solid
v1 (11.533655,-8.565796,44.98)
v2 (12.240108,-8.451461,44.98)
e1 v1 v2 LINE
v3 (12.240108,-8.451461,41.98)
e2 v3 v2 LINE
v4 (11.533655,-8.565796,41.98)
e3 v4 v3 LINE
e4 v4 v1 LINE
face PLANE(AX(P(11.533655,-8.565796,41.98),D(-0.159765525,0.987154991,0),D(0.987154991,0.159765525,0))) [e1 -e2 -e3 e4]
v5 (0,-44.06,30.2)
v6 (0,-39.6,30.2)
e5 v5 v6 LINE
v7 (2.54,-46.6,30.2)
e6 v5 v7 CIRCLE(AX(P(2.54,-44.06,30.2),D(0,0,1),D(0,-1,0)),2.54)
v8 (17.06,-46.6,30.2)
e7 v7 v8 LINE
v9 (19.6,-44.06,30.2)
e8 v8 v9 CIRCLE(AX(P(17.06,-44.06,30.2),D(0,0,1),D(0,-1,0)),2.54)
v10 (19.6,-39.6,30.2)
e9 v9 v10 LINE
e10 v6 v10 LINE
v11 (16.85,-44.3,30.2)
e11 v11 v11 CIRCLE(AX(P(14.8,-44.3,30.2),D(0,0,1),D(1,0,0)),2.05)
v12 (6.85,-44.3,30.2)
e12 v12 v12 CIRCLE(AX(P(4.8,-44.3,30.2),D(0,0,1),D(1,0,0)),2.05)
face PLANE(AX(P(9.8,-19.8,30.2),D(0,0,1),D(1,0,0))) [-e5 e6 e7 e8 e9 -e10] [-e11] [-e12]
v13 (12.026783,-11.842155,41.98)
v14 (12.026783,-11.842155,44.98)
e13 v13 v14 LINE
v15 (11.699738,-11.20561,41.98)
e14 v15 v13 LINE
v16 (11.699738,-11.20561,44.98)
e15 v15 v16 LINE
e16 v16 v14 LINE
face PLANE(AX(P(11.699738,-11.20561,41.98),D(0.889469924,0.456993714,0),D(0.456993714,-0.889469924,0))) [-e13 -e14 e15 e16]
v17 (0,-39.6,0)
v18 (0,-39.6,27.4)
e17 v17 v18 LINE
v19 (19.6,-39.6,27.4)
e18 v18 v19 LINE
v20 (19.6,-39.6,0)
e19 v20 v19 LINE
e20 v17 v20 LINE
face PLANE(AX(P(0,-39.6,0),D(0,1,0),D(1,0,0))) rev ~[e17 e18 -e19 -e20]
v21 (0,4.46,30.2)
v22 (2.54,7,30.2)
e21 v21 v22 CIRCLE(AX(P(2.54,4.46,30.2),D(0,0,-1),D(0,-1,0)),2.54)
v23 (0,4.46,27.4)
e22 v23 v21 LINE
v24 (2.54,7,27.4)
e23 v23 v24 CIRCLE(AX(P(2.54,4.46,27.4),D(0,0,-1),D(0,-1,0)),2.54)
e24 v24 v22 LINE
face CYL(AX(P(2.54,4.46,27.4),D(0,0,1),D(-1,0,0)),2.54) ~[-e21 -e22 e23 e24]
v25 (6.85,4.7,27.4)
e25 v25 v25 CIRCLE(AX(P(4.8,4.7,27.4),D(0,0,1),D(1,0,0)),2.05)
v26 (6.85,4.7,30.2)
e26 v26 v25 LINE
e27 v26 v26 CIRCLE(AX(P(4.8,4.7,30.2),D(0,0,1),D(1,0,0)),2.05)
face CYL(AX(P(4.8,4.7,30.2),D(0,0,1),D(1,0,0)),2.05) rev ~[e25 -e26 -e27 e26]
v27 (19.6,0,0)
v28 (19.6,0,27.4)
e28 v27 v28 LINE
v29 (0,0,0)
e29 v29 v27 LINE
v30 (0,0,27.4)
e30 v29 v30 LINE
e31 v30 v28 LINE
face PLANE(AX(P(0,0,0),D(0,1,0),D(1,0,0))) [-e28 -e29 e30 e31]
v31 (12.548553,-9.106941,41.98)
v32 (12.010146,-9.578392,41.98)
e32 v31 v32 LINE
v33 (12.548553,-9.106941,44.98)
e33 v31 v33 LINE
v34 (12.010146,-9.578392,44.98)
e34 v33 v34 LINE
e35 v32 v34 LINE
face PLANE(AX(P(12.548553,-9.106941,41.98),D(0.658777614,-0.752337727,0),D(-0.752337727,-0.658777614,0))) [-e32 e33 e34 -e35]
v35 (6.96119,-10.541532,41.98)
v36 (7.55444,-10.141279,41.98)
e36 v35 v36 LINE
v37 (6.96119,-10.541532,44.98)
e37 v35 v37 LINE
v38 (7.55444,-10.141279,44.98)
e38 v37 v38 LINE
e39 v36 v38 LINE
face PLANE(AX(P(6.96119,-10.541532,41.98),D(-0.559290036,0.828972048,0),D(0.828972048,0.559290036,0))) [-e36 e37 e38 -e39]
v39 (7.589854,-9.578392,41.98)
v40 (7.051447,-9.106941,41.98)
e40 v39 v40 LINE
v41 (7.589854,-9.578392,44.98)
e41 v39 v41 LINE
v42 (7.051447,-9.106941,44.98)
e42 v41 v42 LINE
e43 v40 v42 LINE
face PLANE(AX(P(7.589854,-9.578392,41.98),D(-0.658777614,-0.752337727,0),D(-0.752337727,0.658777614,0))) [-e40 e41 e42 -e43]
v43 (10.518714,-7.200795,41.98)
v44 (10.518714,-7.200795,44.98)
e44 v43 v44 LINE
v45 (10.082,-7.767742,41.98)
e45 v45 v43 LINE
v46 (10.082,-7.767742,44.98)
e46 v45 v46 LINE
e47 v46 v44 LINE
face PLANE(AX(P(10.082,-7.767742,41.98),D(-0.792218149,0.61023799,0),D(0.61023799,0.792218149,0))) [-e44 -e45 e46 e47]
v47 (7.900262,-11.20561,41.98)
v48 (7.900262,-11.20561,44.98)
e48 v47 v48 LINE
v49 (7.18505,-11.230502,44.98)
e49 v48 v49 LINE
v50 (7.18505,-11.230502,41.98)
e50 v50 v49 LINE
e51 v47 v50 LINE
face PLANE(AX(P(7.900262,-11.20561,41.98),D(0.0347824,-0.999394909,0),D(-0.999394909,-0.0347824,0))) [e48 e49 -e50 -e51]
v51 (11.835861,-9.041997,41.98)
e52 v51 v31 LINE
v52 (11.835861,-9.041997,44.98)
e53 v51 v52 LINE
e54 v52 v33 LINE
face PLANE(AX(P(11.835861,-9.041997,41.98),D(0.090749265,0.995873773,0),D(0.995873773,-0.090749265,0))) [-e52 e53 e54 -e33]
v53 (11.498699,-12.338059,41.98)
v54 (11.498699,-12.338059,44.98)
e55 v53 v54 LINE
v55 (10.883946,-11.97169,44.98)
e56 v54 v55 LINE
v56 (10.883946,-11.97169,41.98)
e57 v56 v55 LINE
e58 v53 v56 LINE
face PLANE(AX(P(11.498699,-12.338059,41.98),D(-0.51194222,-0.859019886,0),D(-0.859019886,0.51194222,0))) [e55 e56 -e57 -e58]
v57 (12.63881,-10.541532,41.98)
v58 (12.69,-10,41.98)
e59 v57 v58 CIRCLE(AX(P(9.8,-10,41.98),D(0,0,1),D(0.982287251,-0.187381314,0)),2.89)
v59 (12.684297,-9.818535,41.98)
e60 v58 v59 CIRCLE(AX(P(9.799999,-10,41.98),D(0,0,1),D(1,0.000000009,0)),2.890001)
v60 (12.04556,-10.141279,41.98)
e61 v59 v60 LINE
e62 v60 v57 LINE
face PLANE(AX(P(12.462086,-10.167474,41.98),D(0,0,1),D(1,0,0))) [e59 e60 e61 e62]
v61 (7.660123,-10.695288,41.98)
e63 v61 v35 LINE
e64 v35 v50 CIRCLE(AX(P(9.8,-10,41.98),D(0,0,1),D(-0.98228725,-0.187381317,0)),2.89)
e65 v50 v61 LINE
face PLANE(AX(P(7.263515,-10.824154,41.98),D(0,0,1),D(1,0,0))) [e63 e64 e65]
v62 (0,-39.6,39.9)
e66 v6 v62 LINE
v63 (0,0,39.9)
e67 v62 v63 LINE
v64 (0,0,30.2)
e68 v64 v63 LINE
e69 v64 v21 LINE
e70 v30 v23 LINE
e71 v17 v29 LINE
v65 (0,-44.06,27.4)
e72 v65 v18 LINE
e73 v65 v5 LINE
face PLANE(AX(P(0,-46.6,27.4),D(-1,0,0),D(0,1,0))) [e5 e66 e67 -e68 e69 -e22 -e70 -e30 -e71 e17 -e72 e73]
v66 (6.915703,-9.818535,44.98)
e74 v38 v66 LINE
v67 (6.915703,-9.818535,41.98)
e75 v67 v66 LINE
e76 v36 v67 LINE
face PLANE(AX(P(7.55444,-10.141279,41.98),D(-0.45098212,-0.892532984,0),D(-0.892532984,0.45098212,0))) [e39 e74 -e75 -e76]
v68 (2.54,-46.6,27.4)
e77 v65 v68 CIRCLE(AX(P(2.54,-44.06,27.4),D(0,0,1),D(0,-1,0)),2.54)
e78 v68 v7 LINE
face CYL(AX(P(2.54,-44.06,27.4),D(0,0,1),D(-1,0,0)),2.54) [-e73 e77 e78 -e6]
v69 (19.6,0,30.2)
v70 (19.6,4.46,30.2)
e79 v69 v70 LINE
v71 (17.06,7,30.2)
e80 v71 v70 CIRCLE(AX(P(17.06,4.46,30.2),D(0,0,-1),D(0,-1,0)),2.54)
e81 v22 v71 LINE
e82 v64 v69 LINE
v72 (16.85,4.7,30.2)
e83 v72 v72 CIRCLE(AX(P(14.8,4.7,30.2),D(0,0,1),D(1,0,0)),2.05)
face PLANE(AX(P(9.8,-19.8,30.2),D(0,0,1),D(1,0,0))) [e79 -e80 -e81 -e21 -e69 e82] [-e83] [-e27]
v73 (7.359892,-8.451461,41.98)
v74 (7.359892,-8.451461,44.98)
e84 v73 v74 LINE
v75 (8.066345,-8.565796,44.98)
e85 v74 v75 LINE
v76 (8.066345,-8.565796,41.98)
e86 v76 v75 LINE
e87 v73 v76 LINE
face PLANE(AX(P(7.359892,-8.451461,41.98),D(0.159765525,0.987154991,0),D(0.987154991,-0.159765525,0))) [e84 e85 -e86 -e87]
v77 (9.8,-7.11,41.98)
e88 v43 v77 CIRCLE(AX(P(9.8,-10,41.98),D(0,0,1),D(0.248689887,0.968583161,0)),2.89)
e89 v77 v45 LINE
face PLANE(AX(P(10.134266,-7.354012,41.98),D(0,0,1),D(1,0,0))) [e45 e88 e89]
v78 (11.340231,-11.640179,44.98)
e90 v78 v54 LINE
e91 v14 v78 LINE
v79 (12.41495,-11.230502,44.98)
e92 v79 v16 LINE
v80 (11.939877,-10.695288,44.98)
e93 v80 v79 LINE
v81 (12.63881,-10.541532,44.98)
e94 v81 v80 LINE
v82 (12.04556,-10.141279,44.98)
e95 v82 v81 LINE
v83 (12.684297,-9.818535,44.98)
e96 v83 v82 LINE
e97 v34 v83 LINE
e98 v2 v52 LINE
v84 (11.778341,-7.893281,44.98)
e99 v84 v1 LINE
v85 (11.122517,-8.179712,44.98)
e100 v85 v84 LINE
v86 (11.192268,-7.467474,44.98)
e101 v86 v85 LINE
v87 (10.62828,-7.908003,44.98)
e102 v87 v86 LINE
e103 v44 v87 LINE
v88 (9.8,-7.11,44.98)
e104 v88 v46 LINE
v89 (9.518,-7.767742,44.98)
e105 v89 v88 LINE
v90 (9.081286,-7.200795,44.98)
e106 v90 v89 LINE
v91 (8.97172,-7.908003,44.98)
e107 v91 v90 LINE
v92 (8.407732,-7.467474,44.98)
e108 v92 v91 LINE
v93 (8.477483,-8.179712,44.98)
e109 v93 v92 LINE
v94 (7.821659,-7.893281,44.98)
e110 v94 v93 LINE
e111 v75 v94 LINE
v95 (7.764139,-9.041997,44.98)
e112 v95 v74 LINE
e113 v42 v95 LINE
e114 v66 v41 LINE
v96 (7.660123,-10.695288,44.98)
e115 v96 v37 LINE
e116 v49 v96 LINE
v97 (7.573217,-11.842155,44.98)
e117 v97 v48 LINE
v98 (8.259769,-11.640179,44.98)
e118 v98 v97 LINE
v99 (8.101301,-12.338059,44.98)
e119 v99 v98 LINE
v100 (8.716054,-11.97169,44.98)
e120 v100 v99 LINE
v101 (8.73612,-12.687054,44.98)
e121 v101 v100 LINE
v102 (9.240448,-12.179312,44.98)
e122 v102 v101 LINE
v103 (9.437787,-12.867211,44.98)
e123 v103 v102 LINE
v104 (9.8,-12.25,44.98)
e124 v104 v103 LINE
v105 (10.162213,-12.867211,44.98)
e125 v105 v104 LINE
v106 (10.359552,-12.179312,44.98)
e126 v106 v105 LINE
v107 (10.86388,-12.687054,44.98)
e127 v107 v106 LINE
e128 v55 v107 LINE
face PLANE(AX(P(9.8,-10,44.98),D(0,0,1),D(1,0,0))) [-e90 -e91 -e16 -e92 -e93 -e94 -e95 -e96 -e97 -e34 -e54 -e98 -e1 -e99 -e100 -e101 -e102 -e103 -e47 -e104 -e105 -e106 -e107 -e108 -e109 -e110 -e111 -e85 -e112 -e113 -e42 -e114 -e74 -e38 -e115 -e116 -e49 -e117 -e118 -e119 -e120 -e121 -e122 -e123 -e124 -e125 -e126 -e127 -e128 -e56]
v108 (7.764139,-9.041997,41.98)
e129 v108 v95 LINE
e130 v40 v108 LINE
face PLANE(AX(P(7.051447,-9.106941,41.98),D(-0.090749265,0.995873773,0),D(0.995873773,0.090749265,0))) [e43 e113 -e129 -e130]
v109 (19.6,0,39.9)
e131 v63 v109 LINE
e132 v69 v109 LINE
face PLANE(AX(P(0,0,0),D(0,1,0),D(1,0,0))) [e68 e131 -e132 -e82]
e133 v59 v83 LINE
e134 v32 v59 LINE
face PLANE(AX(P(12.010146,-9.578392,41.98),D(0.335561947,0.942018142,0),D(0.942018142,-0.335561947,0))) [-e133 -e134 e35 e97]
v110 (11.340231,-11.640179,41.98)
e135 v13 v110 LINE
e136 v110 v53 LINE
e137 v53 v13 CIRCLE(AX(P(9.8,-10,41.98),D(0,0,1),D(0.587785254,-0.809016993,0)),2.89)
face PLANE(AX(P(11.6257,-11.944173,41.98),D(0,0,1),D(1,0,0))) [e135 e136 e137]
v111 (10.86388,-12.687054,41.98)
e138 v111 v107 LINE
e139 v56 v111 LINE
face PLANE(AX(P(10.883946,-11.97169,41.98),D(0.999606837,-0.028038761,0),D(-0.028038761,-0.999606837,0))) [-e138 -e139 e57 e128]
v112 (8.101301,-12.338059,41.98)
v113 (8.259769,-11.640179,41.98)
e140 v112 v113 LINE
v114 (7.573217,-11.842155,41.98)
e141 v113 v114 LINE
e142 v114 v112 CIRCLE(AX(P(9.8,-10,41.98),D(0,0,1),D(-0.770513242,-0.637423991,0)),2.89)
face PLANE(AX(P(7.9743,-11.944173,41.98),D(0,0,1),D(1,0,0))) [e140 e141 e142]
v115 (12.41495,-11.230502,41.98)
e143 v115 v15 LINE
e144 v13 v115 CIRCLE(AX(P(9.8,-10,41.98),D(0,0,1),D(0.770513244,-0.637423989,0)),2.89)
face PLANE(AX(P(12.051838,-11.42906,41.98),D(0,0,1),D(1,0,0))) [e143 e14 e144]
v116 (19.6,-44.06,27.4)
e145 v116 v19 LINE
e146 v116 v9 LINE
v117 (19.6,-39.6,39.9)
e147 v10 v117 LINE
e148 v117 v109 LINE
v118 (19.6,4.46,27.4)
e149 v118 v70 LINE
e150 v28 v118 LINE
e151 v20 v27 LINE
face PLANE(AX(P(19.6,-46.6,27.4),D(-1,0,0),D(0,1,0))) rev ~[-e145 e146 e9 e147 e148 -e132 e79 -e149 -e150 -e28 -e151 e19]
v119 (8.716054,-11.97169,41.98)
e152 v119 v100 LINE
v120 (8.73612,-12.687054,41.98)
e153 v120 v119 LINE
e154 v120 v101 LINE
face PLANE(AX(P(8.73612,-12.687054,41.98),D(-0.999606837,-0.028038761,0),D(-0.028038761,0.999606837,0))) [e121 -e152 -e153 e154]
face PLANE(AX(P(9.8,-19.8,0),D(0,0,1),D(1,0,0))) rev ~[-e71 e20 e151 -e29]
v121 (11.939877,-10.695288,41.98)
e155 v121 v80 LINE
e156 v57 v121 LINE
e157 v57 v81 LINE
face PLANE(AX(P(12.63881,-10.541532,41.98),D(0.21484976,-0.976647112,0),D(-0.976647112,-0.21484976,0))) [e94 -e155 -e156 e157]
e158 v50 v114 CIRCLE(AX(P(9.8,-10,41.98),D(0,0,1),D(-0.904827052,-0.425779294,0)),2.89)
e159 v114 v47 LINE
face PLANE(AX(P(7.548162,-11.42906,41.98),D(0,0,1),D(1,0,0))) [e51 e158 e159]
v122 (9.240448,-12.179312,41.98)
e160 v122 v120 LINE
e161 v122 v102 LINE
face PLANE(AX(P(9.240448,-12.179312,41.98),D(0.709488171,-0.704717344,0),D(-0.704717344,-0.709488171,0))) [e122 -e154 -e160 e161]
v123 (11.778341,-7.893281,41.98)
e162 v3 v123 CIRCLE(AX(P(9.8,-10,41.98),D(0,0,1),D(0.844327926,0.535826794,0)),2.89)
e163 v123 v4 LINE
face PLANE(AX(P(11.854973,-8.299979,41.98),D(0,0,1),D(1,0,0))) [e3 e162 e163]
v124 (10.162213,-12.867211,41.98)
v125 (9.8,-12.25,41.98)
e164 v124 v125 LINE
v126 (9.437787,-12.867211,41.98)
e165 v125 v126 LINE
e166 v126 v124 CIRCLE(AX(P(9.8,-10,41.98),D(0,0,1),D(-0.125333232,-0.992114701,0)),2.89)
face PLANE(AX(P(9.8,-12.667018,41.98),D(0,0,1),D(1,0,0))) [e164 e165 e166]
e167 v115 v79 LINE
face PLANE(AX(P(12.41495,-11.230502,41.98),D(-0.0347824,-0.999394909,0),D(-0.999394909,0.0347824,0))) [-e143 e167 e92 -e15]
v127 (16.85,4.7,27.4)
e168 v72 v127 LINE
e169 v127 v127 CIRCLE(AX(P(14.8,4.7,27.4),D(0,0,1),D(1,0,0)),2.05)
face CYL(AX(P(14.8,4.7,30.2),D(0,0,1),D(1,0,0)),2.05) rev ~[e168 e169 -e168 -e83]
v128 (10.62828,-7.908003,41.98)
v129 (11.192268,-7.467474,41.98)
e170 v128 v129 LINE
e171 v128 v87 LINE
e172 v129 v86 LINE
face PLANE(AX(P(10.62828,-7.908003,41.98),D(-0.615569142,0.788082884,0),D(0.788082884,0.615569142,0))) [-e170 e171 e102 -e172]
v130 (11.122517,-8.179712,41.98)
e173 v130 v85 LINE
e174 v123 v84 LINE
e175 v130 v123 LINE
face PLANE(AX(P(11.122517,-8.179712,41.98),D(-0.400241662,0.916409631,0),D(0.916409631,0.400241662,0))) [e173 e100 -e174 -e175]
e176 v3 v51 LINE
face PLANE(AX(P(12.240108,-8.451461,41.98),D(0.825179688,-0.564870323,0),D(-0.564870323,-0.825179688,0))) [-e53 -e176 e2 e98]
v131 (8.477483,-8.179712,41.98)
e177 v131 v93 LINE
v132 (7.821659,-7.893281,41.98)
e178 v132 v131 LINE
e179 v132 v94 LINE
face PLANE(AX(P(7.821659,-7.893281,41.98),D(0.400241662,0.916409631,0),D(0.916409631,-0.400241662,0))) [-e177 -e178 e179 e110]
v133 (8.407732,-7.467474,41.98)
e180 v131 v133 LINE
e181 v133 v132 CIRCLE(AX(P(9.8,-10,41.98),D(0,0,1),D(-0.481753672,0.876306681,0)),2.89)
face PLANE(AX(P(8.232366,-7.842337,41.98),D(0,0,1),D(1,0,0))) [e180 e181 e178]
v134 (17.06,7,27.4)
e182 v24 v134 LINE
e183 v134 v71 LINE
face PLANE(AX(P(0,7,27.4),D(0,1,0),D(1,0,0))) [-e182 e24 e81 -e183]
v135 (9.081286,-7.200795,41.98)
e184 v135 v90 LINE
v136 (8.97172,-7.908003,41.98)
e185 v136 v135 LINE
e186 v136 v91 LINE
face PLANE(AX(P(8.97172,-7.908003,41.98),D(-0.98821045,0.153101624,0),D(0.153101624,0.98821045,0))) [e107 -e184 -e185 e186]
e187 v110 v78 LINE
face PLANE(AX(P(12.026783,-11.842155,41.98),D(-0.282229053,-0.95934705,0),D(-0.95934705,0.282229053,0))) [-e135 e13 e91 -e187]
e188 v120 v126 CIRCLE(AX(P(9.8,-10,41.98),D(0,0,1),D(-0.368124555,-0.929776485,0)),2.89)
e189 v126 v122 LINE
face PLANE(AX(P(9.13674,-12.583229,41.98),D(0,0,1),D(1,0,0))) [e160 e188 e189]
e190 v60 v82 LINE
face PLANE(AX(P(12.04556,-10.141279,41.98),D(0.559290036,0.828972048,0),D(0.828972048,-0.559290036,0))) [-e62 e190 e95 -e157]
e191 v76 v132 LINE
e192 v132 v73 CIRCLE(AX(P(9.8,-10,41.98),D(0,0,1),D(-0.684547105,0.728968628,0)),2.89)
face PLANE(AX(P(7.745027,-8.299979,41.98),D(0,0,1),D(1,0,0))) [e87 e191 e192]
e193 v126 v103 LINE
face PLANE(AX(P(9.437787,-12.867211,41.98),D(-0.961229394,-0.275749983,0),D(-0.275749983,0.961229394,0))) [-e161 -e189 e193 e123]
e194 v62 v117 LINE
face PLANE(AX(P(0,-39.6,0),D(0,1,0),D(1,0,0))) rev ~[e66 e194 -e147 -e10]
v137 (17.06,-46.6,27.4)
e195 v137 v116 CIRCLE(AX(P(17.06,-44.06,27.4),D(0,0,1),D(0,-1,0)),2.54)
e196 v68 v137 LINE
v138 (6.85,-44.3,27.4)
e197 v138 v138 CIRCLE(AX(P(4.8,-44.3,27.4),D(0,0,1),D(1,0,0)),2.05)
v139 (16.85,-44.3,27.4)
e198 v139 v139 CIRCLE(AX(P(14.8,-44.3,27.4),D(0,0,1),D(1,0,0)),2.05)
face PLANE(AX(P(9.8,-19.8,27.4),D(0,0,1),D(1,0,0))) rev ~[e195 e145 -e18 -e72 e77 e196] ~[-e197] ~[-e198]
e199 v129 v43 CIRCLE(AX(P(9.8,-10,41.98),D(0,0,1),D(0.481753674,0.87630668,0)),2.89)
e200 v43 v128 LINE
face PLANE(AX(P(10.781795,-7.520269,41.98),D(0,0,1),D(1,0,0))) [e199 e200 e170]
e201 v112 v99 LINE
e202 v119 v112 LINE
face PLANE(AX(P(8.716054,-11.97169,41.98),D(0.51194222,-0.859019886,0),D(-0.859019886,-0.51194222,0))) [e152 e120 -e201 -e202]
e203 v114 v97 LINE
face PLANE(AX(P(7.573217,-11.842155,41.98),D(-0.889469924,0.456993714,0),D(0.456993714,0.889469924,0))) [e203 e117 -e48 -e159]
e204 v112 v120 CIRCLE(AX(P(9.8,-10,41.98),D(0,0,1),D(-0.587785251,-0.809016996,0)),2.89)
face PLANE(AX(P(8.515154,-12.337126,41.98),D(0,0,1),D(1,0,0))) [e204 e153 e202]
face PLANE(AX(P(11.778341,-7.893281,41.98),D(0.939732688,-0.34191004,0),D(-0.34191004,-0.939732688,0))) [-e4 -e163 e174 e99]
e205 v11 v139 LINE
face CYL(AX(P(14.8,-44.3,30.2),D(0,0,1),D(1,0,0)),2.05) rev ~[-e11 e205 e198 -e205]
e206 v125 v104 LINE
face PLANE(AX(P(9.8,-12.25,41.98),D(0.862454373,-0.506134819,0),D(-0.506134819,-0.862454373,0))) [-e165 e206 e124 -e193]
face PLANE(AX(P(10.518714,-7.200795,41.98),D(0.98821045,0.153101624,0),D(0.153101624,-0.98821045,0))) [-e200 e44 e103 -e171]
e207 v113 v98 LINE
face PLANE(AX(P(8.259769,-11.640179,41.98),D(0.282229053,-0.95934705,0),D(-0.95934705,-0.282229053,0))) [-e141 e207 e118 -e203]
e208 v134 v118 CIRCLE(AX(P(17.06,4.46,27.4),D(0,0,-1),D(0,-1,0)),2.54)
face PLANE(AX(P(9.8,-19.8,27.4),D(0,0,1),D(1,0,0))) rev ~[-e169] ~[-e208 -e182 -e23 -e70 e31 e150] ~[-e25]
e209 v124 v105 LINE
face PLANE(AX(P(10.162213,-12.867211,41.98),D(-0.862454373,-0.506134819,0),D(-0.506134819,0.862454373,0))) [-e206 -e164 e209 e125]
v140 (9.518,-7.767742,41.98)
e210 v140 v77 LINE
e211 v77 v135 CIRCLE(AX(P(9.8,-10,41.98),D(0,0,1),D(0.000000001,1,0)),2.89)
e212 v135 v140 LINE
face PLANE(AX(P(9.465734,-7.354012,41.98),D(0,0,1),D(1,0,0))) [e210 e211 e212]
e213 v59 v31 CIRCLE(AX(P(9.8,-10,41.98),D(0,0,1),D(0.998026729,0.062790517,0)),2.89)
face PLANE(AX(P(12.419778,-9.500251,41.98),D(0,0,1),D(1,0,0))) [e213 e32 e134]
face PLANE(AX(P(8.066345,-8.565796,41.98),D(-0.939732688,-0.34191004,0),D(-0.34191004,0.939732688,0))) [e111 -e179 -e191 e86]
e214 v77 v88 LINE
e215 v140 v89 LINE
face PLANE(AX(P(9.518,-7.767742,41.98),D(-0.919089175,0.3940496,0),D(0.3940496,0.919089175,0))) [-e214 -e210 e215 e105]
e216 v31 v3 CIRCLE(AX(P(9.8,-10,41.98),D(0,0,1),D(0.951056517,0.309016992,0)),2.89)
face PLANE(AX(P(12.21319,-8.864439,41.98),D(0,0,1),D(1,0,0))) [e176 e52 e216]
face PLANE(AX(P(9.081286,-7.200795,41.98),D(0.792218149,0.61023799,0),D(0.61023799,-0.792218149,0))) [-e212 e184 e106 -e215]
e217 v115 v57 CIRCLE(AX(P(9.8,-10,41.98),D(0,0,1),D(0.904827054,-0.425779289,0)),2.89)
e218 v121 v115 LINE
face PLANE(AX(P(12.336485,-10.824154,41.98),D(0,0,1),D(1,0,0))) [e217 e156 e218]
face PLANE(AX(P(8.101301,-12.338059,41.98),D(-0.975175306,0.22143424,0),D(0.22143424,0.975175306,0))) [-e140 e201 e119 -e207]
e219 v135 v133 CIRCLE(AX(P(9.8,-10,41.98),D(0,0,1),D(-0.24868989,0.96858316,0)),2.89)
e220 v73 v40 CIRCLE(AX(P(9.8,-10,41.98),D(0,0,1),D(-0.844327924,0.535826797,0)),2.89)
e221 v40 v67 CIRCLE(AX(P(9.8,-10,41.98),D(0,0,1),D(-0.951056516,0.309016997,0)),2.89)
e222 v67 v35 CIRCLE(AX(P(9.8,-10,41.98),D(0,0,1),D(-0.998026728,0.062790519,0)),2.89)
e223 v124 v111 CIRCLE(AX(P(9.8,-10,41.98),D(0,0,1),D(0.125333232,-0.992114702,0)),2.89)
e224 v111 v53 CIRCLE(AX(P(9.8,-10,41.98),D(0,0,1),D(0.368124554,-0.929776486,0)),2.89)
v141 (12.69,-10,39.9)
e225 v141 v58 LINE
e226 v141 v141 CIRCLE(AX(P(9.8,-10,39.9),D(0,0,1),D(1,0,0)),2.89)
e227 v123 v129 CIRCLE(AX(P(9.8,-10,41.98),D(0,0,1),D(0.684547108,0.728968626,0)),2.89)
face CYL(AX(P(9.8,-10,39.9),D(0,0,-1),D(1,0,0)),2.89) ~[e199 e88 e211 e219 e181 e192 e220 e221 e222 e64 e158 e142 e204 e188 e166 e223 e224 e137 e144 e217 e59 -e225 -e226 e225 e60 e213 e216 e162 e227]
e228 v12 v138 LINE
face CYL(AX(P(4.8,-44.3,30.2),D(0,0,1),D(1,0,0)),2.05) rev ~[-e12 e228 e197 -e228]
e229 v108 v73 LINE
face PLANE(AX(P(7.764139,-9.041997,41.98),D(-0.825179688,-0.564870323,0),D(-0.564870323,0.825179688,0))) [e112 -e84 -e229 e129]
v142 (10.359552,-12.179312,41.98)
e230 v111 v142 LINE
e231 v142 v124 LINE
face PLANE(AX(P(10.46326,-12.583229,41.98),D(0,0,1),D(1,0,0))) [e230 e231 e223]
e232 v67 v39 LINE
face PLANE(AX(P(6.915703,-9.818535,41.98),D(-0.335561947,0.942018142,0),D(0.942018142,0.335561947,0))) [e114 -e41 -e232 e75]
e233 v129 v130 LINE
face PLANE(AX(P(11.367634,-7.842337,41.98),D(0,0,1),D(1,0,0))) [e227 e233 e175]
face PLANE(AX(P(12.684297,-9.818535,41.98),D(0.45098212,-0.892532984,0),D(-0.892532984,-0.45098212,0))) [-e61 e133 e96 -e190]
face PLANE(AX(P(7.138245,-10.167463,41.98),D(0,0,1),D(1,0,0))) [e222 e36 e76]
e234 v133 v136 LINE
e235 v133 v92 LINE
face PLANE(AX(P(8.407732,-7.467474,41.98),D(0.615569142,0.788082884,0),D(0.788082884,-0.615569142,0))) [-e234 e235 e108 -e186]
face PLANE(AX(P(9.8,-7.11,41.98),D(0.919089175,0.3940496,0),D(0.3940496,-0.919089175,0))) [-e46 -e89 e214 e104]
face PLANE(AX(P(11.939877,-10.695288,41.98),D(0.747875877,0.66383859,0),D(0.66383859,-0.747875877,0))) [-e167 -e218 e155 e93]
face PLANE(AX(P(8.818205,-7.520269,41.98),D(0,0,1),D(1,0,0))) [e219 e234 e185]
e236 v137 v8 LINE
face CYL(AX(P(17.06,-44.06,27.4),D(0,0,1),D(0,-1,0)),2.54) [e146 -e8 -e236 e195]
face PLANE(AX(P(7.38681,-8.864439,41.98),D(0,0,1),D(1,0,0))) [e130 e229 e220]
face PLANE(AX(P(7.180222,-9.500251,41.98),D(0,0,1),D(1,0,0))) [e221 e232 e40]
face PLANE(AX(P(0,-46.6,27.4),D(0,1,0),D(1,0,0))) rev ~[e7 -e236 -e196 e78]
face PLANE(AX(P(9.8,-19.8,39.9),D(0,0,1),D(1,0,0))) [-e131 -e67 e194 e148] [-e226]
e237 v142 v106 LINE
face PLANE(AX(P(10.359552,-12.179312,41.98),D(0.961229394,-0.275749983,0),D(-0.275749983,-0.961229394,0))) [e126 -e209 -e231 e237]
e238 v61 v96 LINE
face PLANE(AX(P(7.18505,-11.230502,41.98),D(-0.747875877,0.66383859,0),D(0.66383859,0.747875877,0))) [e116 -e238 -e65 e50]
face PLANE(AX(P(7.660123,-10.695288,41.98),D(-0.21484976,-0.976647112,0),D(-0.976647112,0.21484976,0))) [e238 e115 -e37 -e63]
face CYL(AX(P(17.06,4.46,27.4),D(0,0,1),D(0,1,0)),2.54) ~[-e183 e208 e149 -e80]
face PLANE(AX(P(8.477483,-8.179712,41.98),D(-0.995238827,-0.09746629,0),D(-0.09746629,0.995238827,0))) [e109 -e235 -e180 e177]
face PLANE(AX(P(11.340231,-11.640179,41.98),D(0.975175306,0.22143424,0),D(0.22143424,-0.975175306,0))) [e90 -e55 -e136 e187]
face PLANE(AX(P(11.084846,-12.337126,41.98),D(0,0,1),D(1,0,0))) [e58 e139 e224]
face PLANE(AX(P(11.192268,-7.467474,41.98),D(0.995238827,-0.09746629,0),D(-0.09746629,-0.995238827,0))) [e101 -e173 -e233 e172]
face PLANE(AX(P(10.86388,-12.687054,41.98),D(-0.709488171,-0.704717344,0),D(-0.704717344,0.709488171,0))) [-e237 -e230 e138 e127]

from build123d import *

# Parameters (mm, degrees)
SKETCH1_W           = 19.6
SKETCH1_H           = 39.6
BOSS_EXTRUDE1_DEPTH = 39.9
SKETCH2_R           = 2.89
BOSS_EXTRUDE2_DEPTH = 5.08
SKETCH3_W           = 19.6
SKETCH3_H           = 53.6
BOSS_EXTRUDE3_DEPTH = 2.8
SKETCH4_R           = 2.05
CUT_EXTRUDE1_DEPTH  = 59.887689748
FILLET1_R           = 2.54
CUT_EXTRUDE3_START  = -3
CUT_EXTRUDE3_DEPTH  = 3


with BuildPart() as part:
    # Sketch1 → Boss-Extrude1 (new body)
    with BuildSketch(Plane.XY):
        with Locations((9.8, -19.8)):
            Rectangle(SKETCH1_W, SKETCH1_H)
    extrude(amount=BOSS_EXTRUDE1_DEPTH)

    # Sketch2 → Boss-Extrude2 (add)
    with BuildSketch(Plane.XY.offset(39.9)):
        with Locations((9.8, -10)):
            Circle(SKETCH2_R)
    extrude(amount=BOSS_EXTRUDE2_DEPTH)

    # Sketch3 → Boss-Extrude3 (add)
    with BuildSketch(Plane.XY.offset(27.400000064)):
        with Locations((9.8, -19.8)):
            Rectangle(SKETCH3_W, SKETCH3_H)
    extrude(amount=BOSS_EXTRUDE3_DEPTH)

    # Sketch4 → Cut-Extrude1 (cut, through all)
    with BuildSketch(Plane.XY.offset(30.200000064)):
        with Locations((4.8, 4.7)):
            Circle(SKETCH4_R)
        with Locations((14.8, 4.7)):
            Circle(SKETCH4_R)
        with Locations((4.8, -44.3)):
            Circle(SKETCH4_R)
        with Locations((14.8, -44.3)):
            Circle(SKETCH4_R)
    extrude(amount=-CUT_EXTRUDE1_DEPTH, mode=Mode.SUBTRACT)

    # Fillet1
    fillet1_edges = [part.edges().sort_by_distance(p)[0] for p in [
        (19.6, -46.6, 28.800000064),
        (0, 7, 28.800000064),
        (0, -46.6, 28.800000064),
        (19.6, 7, 28.800000064),
    ]]
    fillet(fillet1_edges, radius=FILLET1_R)

    # Sketch5 → Cut-Extrude3 (cut)
    with BuildSketch(Plane.XY.offset(44.98).offset(CUT_EXTRUDE3_START)):
        with BuildLine():
            ThreePointArc((10.518713774, -7.200794664), (10.162213045, -7.132788513), (9.8, -7.11))
            Line((9.8, -7.11), (10.081999776, -7.767741922))
            Line((10.081999776, -7.767741922), (10.518713774, -7.200794664))
        make_face()
        with BuildLine():
            Line((9.518000224, -7.767741922), (9.8, -7.11))
            ThreePointArc((9.8, -7.11), (9.437786955, -7.132788513), (9.081286226, -7.200794664))
            Line((9.081286226, -7.200794664), (9.518000224, -7.767741922))
        make_face()
        with BuildLine():
            Line((8.971719756, -7.908002907), (9.081286226, -7.200794664))
            ThreePointArc((9.081286226, -7.200794664), (8.736120043, -7.312945956), (8.407731882, -7.467473695))
            Line((8.407731882, -7.467473695), (8.971719756, -7.908002907))
        make_face()
        with BuildLine():
            Line((8.477483182, -8.179711763), (8.407731882, -7.467473695))
            ThreePointArc((8.407731882, -7.467473695), (8.101300621, -7.661940886), (7.821658864, -7.893280667))
            Line((7.821658864, -7.893280667), (8.477483182, -8.179711763))
        make_face()
        with BuildLine():
            Line((8.066345204, -8.565796023), (7.821658864, -7.893280667))
            ThreePointArc((7.821658864, -7.893280667), (7.573216728, -8.15784467), (7.359892295, -8.451460563))
            Line((7.359892295, -8.451460563), (8.066345204, -8.565796023))
        make_face()
        with BuildLine():
            Line((7.764139132, -9.041996594), (7.359892295, -8.451460563))
            ThreePointArc((7.359892295, -8.451460563), (7.185049818, -8.769497847), (7.051446668, -9.106940886))
            Line((7.051446668, -9.106940886), (7.764139132, -9.041996594))
        make_face()
        with BuildLine():
            Line((7.589853686, -9.578392042), (7.051446668, -9.106940886))
            ThreePointArc((7.051446668, -9.106940886), (6.961189845, -9.458468001), (6.915702755, -9.818535399))
            Line((6.915702755, -9.818535399), (7.589853686, -9.578392042))
        make_face()
        with BuildLine():
            Line((7.554439861, -10.141278669), (6.915702755, -9.818535399))
            ThreePointArc((6.915702755, -9.818535399), (6.915702755, -10.181464601), (6.961189845, -10.541531999))
            Line((6.961189845, -10.541531999), (7.554439861, -10.141278669))
        make_face()
        with BuildLine():
            Line((7.660122838, -10.695288237), (6.961189845, -10.541531999))
            ThreePointArc((6.961189845, -10.541531999), (7.051446668, -10.893059114), (7.185049818, -11.230502153))
            Line((7.185049818, -11.230502153), (7.660122838, -10.695288237))
        make_face()
        with BuildLine():
            ThreePointArc((11.778341136, -7.893280667), (11.498699379, -7.661940886), (11.192268118, -7.467473695))
            Line((11.192268118, -7.467473695), (11.122516818, -8.179711763))
            Line((11.122516818, -8.179711763), (11.778341136, -7.893280667))
        make_face()
        with BuildLine():
            ThreePointArc((11.192268118, -7.467473695), (10.863879957, -7.312945956), (10.518713774, -7.200794664))
            Line((10.518713774, -7.200794664), (10.628280244, -7.908002907))
            Line((10.628280244, -7.908002907), (11.192268118, -7.467473695))
        make_face()
        with BuildLine():
            ThreePointArc((12.240107705, -8.451460563), (12.026783272, -8.15784467), (11.778341136, -7.893280667))
            Line((11.778341136, -7.893280667), (11.533654796, -8.565796023))
            Line((11.533654796, -8.565796023), (12.240107705, -8.451460563))
        make_face()
        with BuildLine():
            ThreePointArc((12.548553332, -9.106940886), (12.414950182, -8.769497847), (12.240107705, -8.451460563))
            Line((12.240107705, -8.451460563), (11.835860868, -9.041996594))
            Line((11.835860868, -9.041996594), (12.548553332, -9.106940886))
        make_face()
        with BuildLine():
            ThreePointArc((12.684297245, -9.818535399), (12.638810155, -9.458468001), (12.548553332, -9.106940886))
            Line((12.548553332, -9.106940886), (12.010146314, -9.578392042))
            Line((12.010146314, -9.578392042), (12.684297245, -9.818535399))
        make_face()
        with BuildLine():
            ThreePointArc((12.69, -10), (12.688573959, -9.909222906), (12.684297245, -9.818535399))
            Line((12.684297245, -9.818535399), (12.045560139, -10.141278669))
            Line((12.045560139, -10.141278669), (12.638810155, -10.541531999))
            ThreePointArc((12.638810155, -10.541531999), (12.677174078, -10.271973025), (12.69, -10))
        make_face()
        with BuildLine():
            ThreePointArc((12.414950182, -11.230502153), (12.548553332, -10.893059114), (12.638810155, -10.541531999))
            Line((12.638810155, -10.541531999), (11.939877162, -10.695288237))
            Line((11.939877162, -10.695288237), (12.414950182, -11.230502153))
        make_face()
        with BuildLine():
            ThreePointArc((12.026783272, -11.84215533), (12.240107705, -11.548539437), (12.414950182, -11.230502153))
            Line((12.414950182, -11.230502153), (11.699737832, -11.205610289))
            Line((11.699737832, -11.205610289), (12.026783272, -11.84215533))
        make_face()
        with BuildLine():
            ThreePointArc((11.498699379, -12.338059114), (11.778341136, -12.106719333), (12.026783272, -11.84215533))
            Line((12.026783272, -11.84215533), (11.340230988, -11.640179412))
            Line((11.340230988, -11.640179412), (11.498699379, -12.338059114))
        make_face()
        with BuildLine():
            ThreePointArc((10.863879957, -12.687054044), (11.192268118, -12.532526305), (11.498699379, -12.338059114))
            Line((11.498699379, -12.338059114), (10.883945767, -11.97169003))
            Line((10.883945767, -11.97169003), (10.863879957, -12.687054044))
        make_face()
        with BuildLine():
            ThreePointArc((10.162213045, -12.867211487), (10.518713774, -12.799205336), (10.863879957, -12.687054044))
            Line((10.863879957, -12.687054044), (10.359552246, -12.179312113))
            Line((10.359552246, -12.179312113), (10.162213045, -12.867211487))
        make_face()
        with BuildLine():
            Line((9.8, -12.25), (9.437786955, -12.867211487))
            ThreePointArc((9.437786955, -12.867211487), (9.8, -12.89), (10.162213045, -12.867211487))
            Line((10.162213045, -12.867211487), (9.8, -12.25))
        make_face()
        with BuildLine():
            Line((9.240447754, -12.179312113), (8.736120043, -12.687054044))
            ThreePointArc((8.736120043, -12.687054044), (9.081286226, -12.799205336), (9.437786955, -12.867211487))
            Line((9.437786955, -12.867211487), (9.240447754, -12.179312113))
        make_face()
        with BuildLine():
            Line((8.716054233, -11.97169003), (8.101300621, -12.338059114))
            ThreePointArc((8.101300621, -12.338059114), (8.407731882, -12.532526305), (8.736120043, -12.687054044))
            Line((8.736120043, -12.687054044), (8.716054233, -11.97169003))
        make_face()
        with BuildLine():
            Line((8.259769012, -11.640179412), (7.573216728, -11.84215533))
            ThreePointArc((7.573216728, -11.84215533), (7.821658864, -12.106719333), (8.101300621, -12.338059114))
            Line((8.101300621, -12.338059114), (8.259769012, -11.640179412))
        make_face()
        with BuildLine():
            Line((7.900262168, -11.205610289), (7.185049818, -11.230502153))
            ThreePointArc((7.185049818, -11.230502153), (7.359892295, -11.548539437), (7.573216728, -11.84215533))
            Line((7.573216728, -11.84215533), (7.900262168, -11.205610289))
        make_face()
    extrude(amount=CUT_EXTRUDE3_DEPTH, mode=Mode.SUBTRACT)


solid = part.part
